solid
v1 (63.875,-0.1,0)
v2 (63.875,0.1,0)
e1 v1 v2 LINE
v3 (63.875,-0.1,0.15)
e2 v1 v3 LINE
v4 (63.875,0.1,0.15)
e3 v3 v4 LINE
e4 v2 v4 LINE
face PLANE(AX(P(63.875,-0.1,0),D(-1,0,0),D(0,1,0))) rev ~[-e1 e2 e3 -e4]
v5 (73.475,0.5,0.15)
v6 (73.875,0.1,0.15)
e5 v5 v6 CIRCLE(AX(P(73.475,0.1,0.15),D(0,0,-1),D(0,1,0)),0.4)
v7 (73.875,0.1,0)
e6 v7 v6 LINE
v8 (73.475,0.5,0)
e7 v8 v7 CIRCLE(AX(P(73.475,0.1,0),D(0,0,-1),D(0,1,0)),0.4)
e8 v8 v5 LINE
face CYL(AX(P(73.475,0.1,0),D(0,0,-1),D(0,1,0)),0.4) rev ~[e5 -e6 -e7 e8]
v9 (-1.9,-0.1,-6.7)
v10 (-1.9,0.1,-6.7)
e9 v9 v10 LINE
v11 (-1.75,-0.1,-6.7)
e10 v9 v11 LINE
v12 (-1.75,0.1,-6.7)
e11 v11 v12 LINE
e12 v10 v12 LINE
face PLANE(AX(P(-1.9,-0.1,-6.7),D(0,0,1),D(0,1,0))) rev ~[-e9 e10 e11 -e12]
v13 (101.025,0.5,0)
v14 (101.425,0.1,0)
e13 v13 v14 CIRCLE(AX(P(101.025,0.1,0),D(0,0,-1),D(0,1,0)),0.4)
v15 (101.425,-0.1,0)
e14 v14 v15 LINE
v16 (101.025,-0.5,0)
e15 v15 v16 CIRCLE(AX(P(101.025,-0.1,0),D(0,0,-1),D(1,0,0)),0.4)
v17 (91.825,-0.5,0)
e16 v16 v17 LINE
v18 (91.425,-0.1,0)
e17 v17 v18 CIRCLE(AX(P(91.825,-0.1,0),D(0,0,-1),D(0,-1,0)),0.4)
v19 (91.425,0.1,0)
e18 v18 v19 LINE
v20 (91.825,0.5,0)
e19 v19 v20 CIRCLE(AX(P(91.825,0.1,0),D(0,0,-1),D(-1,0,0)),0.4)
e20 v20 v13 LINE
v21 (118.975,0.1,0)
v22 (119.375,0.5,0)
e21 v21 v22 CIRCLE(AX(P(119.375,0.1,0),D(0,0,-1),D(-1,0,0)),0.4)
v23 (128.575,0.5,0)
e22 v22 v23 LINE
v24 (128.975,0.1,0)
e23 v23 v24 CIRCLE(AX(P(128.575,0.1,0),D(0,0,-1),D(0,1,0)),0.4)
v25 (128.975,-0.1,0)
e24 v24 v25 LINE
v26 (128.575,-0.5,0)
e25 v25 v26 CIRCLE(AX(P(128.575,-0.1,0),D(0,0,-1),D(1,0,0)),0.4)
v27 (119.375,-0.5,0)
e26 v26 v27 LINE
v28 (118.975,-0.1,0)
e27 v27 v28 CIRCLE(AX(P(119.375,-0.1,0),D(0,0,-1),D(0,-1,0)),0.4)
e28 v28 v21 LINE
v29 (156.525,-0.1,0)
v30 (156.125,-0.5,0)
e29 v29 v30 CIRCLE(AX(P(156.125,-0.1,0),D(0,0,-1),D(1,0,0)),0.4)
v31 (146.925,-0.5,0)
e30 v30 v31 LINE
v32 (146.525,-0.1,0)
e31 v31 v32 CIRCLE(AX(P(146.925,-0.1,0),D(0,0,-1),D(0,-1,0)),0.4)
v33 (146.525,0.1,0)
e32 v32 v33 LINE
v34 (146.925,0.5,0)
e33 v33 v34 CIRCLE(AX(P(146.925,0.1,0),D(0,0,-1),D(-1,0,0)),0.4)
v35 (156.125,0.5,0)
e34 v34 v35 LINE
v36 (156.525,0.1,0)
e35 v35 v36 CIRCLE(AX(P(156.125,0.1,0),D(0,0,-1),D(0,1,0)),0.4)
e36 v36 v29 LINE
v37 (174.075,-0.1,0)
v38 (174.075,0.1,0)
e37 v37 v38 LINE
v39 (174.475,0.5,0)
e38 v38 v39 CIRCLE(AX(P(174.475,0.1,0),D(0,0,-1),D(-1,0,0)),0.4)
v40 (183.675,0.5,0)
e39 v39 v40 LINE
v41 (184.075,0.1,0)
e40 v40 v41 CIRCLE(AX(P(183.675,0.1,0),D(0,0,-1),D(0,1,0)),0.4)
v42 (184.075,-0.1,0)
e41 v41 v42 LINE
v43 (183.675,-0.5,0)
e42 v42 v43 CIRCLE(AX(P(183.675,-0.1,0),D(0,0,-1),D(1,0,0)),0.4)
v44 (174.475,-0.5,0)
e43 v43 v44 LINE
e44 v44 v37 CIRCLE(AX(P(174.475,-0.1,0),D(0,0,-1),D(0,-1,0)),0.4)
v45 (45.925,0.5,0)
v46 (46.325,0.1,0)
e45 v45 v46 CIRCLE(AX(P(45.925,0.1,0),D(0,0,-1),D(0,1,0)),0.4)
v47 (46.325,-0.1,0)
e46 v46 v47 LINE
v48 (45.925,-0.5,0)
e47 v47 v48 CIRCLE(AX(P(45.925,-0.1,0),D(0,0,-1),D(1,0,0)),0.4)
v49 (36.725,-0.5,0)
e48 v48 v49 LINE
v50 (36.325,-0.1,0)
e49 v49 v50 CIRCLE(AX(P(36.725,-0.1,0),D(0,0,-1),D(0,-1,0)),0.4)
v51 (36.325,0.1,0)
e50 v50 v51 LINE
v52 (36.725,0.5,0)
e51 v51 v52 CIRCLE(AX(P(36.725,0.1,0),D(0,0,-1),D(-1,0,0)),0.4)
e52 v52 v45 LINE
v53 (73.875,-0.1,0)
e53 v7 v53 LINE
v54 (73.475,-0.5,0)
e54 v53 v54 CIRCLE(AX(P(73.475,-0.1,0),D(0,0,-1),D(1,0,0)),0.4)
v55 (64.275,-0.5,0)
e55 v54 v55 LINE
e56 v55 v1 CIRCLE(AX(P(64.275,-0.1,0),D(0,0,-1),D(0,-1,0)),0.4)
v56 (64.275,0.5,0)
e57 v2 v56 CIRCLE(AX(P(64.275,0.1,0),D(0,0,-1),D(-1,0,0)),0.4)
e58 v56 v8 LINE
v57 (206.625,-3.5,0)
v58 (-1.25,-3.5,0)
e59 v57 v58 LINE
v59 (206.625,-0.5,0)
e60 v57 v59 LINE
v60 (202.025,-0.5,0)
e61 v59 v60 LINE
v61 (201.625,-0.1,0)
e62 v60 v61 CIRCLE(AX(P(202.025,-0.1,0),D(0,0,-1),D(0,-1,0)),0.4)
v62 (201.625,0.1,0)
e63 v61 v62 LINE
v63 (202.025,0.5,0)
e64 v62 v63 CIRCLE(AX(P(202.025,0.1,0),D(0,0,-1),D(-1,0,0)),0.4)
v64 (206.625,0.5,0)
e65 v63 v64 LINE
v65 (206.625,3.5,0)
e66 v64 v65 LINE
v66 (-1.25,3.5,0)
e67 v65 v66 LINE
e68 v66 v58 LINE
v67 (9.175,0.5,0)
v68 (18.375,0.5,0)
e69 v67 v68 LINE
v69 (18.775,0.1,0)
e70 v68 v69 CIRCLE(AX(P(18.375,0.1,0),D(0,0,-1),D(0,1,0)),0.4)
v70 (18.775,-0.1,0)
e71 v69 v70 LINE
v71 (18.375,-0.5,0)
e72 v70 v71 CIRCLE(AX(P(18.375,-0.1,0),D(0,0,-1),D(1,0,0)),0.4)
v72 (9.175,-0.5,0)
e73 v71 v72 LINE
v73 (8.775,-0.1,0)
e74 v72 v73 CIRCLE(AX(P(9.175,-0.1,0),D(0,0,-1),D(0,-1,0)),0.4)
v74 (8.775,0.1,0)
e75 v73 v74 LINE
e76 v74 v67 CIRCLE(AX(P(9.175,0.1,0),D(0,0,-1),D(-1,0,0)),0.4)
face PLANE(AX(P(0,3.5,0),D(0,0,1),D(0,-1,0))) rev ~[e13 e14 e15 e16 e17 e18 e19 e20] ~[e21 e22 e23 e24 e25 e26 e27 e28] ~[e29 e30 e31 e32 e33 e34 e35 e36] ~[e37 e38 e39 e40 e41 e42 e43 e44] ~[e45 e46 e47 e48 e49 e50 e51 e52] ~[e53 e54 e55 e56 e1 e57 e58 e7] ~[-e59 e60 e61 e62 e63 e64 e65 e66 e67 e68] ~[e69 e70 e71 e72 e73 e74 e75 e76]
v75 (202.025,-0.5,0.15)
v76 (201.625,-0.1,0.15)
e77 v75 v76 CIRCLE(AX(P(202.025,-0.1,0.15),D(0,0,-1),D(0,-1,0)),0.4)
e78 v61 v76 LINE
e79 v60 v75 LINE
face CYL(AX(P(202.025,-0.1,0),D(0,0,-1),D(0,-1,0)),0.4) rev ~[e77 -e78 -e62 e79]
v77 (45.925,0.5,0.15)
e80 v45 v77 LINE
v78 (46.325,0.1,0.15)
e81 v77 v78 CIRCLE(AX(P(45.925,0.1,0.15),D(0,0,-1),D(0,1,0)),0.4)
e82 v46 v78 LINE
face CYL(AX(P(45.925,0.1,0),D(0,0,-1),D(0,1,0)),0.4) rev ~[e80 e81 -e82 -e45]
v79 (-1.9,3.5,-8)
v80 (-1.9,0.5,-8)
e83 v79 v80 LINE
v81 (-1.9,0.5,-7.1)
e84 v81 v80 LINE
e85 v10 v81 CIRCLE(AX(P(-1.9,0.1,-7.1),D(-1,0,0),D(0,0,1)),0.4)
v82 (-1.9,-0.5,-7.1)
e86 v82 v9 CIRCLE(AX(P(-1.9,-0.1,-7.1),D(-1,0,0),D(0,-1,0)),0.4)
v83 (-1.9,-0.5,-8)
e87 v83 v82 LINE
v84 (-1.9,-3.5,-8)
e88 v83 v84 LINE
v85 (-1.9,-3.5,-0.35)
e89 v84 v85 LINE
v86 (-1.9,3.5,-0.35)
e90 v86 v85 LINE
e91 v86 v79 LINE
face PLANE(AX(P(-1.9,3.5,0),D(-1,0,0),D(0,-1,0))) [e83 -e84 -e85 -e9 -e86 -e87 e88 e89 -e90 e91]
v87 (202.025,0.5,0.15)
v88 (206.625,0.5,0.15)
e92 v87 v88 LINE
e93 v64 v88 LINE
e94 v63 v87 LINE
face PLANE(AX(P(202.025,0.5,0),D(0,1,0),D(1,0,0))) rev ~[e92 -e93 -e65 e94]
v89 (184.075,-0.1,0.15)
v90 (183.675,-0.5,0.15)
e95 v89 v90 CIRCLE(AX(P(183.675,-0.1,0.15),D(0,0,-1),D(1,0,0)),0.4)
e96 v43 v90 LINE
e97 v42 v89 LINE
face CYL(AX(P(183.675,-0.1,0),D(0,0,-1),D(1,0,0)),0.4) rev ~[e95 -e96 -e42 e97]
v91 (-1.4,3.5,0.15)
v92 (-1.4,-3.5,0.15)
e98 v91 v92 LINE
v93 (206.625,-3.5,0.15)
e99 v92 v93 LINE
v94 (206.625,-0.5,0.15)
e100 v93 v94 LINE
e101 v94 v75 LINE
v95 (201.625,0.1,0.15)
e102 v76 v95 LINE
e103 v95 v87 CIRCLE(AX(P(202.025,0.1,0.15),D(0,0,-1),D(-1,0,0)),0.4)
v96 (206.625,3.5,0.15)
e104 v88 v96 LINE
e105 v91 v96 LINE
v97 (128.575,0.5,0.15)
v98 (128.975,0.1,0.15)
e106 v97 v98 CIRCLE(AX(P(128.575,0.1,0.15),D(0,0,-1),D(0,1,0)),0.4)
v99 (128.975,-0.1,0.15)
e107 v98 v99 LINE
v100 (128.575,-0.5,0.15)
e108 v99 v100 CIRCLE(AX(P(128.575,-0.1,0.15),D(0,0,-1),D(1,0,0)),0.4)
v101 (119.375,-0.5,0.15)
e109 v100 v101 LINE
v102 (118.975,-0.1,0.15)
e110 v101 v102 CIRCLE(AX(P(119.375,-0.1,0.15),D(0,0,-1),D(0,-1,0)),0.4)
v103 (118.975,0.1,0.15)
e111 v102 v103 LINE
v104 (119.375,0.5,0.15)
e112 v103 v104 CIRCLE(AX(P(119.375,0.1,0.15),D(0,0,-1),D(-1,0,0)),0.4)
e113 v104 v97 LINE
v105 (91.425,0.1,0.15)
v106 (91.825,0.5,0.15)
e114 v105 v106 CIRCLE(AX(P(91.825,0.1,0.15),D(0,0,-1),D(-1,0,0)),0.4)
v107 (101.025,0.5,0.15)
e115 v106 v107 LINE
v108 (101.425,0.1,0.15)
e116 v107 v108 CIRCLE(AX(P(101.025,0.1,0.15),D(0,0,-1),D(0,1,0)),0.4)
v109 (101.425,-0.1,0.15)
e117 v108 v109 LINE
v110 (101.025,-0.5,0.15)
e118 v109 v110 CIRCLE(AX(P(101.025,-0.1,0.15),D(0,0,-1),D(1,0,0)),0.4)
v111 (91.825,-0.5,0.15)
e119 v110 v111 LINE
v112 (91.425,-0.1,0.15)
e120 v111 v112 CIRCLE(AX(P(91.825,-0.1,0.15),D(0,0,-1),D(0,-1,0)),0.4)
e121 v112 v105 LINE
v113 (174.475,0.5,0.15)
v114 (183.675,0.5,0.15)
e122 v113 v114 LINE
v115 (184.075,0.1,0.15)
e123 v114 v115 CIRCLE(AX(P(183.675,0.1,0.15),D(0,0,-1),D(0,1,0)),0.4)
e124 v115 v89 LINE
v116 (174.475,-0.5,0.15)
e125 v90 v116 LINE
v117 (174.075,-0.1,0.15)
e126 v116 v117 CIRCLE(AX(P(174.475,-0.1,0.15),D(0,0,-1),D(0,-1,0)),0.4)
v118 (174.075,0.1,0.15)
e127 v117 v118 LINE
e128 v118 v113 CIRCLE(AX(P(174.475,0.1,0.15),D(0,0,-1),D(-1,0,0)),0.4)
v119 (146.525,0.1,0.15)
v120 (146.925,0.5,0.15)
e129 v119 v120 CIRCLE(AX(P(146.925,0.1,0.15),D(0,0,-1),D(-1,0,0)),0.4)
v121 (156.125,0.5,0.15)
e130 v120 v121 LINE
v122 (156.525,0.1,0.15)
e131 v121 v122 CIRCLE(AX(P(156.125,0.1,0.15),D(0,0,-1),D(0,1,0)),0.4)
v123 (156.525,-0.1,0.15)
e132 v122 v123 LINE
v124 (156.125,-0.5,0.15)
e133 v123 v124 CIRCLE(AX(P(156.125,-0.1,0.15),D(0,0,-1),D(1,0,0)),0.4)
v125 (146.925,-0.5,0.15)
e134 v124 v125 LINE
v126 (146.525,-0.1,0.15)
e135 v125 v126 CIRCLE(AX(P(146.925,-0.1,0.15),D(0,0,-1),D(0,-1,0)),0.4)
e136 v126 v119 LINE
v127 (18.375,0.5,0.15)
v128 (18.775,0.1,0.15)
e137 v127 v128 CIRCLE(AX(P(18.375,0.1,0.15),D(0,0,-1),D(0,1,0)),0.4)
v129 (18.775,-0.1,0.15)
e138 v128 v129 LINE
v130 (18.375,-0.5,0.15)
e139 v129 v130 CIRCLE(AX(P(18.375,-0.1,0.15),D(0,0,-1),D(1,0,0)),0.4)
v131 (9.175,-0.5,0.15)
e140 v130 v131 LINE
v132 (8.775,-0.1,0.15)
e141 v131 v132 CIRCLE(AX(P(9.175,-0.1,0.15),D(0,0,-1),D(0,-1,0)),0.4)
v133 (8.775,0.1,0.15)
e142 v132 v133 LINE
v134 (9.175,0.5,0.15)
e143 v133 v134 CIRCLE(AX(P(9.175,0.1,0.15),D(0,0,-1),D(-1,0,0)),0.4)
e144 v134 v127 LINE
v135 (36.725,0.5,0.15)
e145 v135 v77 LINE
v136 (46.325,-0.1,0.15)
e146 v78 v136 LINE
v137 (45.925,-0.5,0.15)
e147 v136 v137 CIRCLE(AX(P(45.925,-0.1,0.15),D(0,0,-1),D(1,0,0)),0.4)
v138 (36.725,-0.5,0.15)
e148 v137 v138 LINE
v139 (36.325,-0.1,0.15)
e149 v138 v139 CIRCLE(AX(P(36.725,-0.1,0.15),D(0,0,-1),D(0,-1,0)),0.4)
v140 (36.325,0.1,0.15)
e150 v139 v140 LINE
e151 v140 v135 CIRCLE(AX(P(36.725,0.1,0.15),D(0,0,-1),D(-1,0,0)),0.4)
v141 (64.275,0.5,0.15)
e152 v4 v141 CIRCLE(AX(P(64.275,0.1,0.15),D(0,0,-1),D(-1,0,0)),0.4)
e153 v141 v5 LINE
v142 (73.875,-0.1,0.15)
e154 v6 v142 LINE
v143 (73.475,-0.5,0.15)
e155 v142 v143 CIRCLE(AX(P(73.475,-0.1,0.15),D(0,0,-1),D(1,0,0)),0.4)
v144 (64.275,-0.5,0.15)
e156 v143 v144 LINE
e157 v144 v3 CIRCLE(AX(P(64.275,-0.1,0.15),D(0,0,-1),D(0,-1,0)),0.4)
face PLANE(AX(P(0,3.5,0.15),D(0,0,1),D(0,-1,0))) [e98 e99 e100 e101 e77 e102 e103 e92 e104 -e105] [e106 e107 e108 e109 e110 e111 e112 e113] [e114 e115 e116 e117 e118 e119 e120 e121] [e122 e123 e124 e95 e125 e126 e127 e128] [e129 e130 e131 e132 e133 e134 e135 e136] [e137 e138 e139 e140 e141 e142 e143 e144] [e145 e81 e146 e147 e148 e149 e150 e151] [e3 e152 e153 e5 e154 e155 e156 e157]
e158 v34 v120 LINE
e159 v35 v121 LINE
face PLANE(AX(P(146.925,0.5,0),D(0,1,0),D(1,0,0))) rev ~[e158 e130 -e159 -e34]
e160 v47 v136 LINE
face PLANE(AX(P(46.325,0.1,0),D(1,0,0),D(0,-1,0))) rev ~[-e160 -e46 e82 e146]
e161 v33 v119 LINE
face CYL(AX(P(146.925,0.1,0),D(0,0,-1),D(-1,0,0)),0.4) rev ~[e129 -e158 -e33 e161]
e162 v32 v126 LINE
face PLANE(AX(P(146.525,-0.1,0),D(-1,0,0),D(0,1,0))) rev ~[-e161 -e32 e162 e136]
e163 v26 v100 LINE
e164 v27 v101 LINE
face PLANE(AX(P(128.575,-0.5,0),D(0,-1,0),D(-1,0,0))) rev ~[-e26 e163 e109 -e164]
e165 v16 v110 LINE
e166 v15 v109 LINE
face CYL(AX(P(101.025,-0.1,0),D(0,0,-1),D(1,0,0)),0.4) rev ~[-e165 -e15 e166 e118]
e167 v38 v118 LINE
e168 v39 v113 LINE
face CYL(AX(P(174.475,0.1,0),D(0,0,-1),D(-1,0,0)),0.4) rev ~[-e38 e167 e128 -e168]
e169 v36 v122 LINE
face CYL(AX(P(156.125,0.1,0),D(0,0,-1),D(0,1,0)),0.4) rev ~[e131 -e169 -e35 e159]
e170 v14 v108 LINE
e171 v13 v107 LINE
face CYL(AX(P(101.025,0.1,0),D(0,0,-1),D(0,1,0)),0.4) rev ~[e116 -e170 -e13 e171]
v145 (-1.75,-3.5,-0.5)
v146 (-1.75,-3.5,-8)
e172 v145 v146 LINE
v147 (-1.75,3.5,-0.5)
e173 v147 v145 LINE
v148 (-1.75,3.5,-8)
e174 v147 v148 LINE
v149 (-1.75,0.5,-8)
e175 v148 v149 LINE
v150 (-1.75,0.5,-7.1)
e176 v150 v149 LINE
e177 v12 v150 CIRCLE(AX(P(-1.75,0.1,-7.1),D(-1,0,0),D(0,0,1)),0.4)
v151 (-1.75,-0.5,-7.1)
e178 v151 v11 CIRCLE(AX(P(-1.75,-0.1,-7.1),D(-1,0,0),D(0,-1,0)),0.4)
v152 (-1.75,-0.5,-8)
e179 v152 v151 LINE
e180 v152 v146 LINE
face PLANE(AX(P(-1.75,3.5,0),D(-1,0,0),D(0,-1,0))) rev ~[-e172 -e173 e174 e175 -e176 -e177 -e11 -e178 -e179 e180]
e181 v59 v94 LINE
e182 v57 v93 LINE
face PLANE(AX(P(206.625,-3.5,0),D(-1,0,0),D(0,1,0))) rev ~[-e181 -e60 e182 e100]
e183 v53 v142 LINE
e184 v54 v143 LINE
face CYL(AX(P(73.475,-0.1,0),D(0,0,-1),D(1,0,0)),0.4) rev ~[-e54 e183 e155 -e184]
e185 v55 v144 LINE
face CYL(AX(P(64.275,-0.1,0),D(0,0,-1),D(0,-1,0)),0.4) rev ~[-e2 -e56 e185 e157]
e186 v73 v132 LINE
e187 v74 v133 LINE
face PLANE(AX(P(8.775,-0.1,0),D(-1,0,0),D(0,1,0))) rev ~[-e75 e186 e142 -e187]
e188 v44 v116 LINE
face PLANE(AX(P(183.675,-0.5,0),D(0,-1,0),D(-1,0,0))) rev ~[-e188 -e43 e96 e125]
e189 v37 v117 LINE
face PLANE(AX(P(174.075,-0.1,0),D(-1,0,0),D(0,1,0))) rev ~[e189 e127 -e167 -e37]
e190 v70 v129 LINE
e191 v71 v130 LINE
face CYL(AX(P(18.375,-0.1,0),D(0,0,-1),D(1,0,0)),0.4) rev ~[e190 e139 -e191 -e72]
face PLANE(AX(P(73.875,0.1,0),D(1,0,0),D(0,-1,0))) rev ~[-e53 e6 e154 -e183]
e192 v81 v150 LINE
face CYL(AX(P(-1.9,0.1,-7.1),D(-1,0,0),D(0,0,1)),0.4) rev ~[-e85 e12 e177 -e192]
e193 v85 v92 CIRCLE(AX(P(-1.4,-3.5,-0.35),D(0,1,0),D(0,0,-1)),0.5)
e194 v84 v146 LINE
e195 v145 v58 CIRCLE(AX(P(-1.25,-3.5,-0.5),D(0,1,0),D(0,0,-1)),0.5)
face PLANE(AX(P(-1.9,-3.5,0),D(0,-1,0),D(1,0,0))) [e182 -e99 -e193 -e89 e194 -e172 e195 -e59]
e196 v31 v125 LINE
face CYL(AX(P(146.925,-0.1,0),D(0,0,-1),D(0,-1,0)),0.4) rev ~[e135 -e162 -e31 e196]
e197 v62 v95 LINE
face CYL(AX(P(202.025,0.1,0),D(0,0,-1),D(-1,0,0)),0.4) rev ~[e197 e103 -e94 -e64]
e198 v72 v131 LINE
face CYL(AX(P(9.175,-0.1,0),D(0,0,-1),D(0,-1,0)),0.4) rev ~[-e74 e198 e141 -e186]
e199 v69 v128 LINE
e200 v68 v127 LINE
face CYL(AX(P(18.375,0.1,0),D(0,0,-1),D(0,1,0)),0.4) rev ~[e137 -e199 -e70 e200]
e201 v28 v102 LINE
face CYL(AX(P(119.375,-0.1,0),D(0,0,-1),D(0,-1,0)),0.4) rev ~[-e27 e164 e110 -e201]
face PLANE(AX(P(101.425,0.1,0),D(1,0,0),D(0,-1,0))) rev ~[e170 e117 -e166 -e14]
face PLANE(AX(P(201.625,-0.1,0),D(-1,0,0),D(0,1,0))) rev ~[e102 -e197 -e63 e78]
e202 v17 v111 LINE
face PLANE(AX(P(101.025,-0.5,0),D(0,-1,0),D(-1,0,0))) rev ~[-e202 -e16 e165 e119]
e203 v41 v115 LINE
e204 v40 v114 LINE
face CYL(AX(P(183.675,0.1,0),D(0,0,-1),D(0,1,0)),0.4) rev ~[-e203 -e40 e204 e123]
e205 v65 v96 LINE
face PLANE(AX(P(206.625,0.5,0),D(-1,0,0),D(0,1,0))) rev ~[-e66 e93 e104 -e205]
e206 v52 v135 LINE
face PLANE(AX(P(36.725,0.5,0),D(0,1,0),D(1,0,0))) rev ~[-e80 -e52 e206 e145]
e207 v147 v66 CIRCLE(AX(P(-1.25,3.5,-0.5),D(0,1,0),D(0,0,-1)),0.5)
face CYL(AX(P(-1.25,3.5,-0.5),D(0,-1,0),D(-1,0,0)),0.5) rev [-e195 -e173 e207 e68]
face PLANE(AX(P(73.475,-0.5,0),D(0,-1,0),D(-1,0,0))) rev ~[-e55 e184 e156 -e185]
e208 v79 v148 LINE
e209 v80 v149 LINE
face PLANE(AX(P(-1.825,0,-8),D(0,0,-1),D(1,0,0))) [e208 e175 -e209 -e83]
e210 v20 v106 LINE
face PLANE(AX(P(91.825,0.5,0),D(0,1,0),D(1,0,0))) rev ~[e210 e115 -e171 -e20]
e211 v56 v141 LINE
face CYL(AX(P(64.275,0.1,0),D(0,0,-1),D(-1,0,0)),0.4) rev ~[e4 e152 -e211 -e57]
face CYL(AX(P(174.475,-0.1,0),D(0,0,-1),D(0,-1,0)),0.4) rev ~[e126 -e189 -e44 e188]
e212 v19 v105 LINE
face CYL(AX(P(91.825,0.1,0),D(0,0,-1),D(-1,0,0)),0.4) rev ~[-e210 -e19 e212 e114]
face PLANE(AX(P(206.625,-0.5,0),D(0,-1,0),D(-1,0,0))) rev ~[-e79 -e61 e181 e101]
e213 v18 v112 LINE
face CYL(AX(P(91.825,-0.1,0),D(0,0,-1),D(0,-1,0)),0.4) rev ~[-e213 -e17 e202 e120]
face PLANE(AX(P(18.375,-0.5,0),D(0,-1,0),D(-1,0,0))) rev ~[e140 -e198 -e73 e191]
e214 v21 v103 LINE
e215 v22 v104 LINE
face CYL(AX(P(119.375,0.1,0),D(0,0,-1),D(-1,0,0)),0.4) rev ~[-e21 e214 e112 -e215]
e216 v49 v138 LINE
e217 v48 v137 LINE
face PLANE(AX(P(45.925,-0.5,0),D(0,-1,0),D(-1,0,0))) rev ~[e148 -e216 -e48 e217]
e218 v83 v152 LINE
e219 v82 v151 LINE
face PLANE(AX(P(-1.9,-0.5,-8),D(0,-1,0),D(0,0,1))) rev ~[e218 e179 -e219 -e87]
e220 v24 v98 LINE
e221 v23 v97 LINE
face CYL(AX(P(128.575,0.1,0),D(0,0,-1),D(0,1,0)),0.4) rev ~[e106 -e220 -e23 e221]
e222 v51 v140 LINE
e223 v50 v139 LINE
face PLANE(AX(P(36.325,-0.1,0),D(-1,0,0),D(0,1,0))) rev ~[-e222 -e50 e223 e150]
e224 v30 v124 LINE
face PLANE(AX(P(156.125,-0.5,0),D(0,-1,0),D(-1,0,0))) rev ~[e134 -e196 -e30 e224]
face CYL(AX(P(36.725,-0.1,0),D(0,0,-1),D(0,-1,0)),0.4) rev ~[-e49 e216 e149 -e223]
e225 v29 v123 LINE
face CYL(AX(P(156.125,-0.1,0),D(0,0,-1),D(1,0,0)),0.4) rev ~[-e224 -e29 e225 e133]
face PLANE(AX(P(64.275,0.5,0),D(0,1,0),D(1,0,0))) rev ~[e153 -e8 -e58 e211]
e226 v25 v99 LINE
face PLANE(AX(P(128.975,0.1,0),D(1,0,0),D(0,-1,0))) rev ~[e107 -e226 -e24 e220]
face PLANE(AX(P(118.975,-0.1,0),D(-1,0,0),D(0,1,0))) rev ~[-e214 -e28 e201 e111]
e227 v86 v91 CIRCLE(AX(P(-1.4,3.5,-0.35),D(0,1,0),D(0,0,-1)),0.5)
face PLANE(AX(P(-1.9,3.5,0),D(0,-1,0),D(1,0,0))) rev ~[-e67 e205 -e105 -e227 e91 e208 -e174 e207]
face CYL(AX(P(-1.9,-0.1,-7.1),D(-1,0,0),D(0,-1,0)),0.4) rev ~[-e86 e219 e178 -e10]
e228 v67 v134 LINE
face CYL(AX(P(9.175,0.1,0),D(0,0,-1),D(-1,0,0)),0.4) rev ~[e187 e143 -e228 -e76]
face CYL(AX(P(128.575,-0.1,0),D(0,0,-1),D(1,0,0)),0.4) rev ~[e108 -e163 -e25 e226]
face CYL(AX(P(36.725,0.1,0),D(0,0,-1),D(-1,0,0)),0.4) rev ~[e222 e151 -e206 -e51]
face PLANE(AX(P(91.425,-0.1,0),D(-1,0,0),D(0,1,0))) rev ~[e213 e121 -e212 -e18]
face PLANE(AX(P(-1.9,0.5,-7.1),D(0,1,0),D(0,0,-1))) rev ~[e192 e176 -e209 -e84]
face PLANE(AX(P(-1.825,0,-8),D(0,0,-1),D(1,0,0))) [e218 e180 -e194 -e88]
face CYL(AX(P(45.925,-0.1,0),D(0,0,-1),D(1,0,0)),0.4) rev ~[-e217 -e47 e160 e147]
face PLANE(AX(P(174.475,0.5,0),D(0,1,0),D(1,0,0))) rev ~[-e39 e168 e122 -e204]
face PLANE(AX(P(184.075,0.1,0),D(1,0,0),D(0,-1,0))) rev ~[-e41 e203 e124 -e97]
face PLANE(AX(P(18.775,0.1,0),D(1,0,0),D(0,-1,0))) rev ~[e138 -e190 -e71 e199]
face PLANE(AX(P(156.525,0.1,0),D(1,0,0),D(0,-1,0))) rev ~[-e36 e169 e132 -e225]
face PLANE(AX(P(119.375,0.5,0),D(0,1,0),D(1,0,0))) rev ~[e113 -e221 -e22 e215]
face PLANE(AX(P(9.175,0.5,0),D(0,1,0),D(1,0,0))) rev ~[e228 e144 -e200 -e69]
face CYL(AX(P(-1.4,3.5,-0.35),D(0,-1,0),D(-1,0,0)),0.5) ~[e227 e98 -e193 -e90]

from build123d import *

# Parameters (mm, degrees)
F1_DEPTH = 0.15
F2_DEPTH = 1.9
F3_W     = 0.15
F3_H     = 7
F4_DEPTH = 8
F6_DEPTH = 25
F7_R     = 0.5


with BuildPart() as f1:
    # F0 (on Top) → F1 (new body)
    with BuildSketch(Plane.XY):
        with BuildLine():
            Line((96.425, -0.5), (96.425, -3.5))
            Line((96.425, -3.5), (99.425, -3.5))
            Line((99.425, -3.5), (110.2, -3.5))
            Line((110.2, -3.5), (123.975, -3.5))
            Line((123.975, -3.5), (123.975, -0.5))
            Line((123.975, -0.5), (119.375, -0.5))
            ThreePointArc((119.375, -0.5), (119.0921572875, -0.3828427125), (118.975, -0.1))
            Line((118.975, -0.1), (118.975, 0.1))
            ThreePointArc((118.975, 0.1), (119.0921572875, 0.3828427125), (119.375, 0.5))
            Line((119.375, 0.5), (123.975, 0.5))
            Line((123.975, 0.5), (123.975, 3.5))
            Line((123.975, 3.5), (110.2, 3.5))
            Line((110.2, 3.5), (99.425, 3.5))
            Line((99.425, 3.5), (96.425, 3.5))
            Line((96.425, 3.5), (96.425, 0.5))
            Line((96.425, 0.5), (101.025, 0.5))
            ThreePointArc((101.025, 0.5), (101.3078427125, 0.3828427125), (101.425, 0.1))
            Line((101.425, 0.1), (101.425, -0.1))
            ThreePointArc((101.425, -0.1), (101.3078427125, -0.3828427125), (101.025, -0.5))
            Line((101.025, -0.5), (96.425, -0.5))
        make_face()
        with BuildLine():
            Line((13.775, -0.5), (13.775, -3.5))
            Line((13.775, -3.5), (27.55, -3.5))
            Line((27.55, -3.5), (41.325, -3.5))
            Line((41.325, -3.5), (41.325, -0.5))
            Line((41.325, -0.5), (36.725, -0.5))
            ThreePointArc((36.725, -0.5), (36.4421572875, -0.3828427125), (36.325, -0.1))
            Line((36.325, -0.1), (36.325, 0.1))
            ThreePointArc((36.325, 0.1), (36.4421572875, 0.3828427125), (36.725, 0.5))
            Line((36.725, 0.5), (41.325, 0.5))
            Line((41.325, 0.5), (41.325, 3.5))
            Line((41.325, 3.5), (27.55, 3.5))
            Line((27.55, 3.5), (13.775, 3.5))
            Line((13.775, 3.5), (13.775, 0.5))
            Line((13.775, 0.5), (18.375, 0.5))
            ThreePointArc((18.375, 0.5), (18.6578427125, 0.3828427125), (18.775, 0.1))
            Line((18.775, 0.1), (18.775, -0.1))
            ThreePointArc((18.775, -0.1), (18.6578427125, -0.3828427125), (18.375, -0.5))
            Line((18.375, -0.5), (13.775, -0.5))
        make_face()
        with BuildLine():
            Line((41.325, -0.5), (41.325, -3.5))
            Line((41.325, -3.5), (55.1, -3.5))
            Line((55.1, -3.5), (68.875, -3.5))
            Line((68.875, -3.5), (68.875, -0.5))
            Line((68.875, -0.5), (64.275, -0.5))
            ThreePointArc((64.275, -0.5), (63.9921572875, -0.3828427125), (63.875, -0.1))
            Line((63.875, -0.1), (63.875, 0.1))
            ThreePointArc((63.875, 0.1), (63.9921572875, 0.3828427125), (64.275, 0.5))
            Line((64.275, 0.5), (68.875, 0.5))
            Line((68.875, 0.5), (68.875, 3.5))
            Line((68.875, 3.5), (55.1, 3.5))
            Line((55.1, 3.5), (41.325, 3.5))
            Line((41.325, 3.5), (41.325, 0.5))
            Line((41.325, 0.5), (45.925, 0.5))
            ThreePointArc((45.925, 0.5), (46.2078427125, 0.3828427125), (46.325, 0.1))
            Line((46.325, 0.1), (46.325, -0.1))
            ThreePointArc((46.325, -0.1), (46.2078427125, -0.3828427125), (45.925, -0.5))
            Line((45.925, -0.5), (41.325, -0.5))
        make_face()
        with BuildLine():
            Line((68.875, -0.5), (68.875, -3.5))
            Line((68.875, -3.5), (82.65, -3.5))
            Line((82.65, -3.5), (96.425, -3.5))
            Line((96.425, -3.5), (96.425, -0.5))
            Line((96.425, -0.5), (91.825, -0.5))
            ThreePointArc((91.825, -0.5), (91.5421572875, -0.3828427125), (91.425, -0.1))
            Line((91.425, -0.1), (91.425, 0.1))
            ThreePointArc((91.425, 0.1), (91.5421572875, 0.3828427125), (91.825, 0.5))
            Line((91.825, 0.5), (96.425, 0.5))
            Line((96.425, 0.5), (96.425, 3.5))
            Line((96.425, 3.5), (82.65, 3.5))
            Line((82.65, 3.5), (68.875, 3.5))
            Line((68.875, 3.5), (68.875, 0.5))
            Line((68.875, 0.5), (73.475, 0.5))
            ThreePointArc((73.475, 0.5), (73.7578427125, 0.3828427125), (73.875, 0.1))
            Line((73.875, 0.1), (73.875, -0.1))
            ThreePointArc((73.875, -0.1), (73.7578427125, -0.3828427125), (73.475, -0.5))
            Line((73.475, -0.5), (68.875, -0.5))
        make_face()
        with BuildLine():
            Line((0, 3.5), (0, -3.5))
            Line((0, -3.5), (13.775, -3.5))
            Line((13.775, -3.5), (13.775, -0.5))
            Line((13.775, -0.5), (9.175, -0.5))
            ThreePointArc((9.175, -0.5), (8.8921572875, -0.3828427125), (8.775, -0.1))
            Line((8.775, -0.1), (8.775, 0.1))
            ThreePointArc((8.775, 0.1), (8.8921572875, 0.3828427125), (9.175, 0.5))
            Line((9.175, 0.5), (13.775, 0.5))
            Line((13.775, 0.5), (13.775, 3.5))
            Line((13.775, 3.5), (0, 3.5))
        make_face()
        with BuildLine():
            Line((123.975, -0.5), (123.975, -3.5))
            Line((123.975, -3.5), (137.75, -3.5))
            Line((137.75, -3.5), (151.525, -3.5))
            Line((151.525, -3.5), (151.525, -0.5))
            Line((151.525, -0.5), (146.925, -0.5))
            ThreePointArc((146.925, -0.5), (146.6421572875, -0.3828427125), (146.525, -0.1))
            Line((146.525, -0.1), (146.525, 0.1))
            ThreePointArc((146.525, 0.1), (146.6421572875, 0.3828427125), (146.925, 0.5))
            Line((146.925, 0.5), (151.525, 0.5))
            Line((151.525, 0.5), (151.525, 3.5))
            Line((151.525, 3.5), (137.75, 3.5))
            Line((137.75, 3.5), (123.975, 3.5))
            Line((123.975, 3.5), (123.975, 0.5))
            Line((123.975, 0.5), (128.575, 0.5))
            ThreePointArc((128.575, 0.5), (128.8578427125, 0.3828427125), (128.975, 0.1))
            Line((128.975, 0.1), (128.975, -0.1))
            ThreePointArc((128.975, -0.1), (128.8578427125, -0.3828427125), (128.575, -0.5))
            Line((128.575, -0.5), (123.975, -0.5))
        make_face()
        with BuildLine():
            Line((151.525, -0.5), (151.525, -3.5))
            Line((151.525, -3.5), (165.3, -3.5))
            Line((165.3, -3.5), (179.075, -3.5))
            Line((179.075, -3.5), (179.075, -0.5))
            Line((179.075, -0.5), (174.475, -0.5))
            ThreePointArc((174.475, -0.5), (174.1921572875, -0.3828427125), (174.075, -0.1))
            Line((174.075, -0.1), (174.075, 0.1))
            ThreePointArc((174.075, 0.1), (174.1921572875, 0.3828427125), (174.475, 0.5))
            Line((174.475, 0.5), (179.075, 0.5))
            Line((179.075, 0.5), (179.075, 3.5))
            Line((179.075, 3.5), (165.3, 3.5))
            Line((165.3, 3.5), (151.525, 3.5))
            Line((151.525, 3.5), (151.525, 0.5))
            Line((151.525, 0.5), (156.125, 0.5))
            ThreePointArc((156.125, 0.5), (156.4078427125, 0.3828427125), (156.525, 0.1))
            Line((156.525, 0.1), (156.525, -0.1))
            ThreePointArc((156.525, -0.1), (156.4078427125, -0.3828427125), (156.125, -0.5))
            Line((156.125, -0.5), (151.525, -0.5))
        make_face()
        with BuildLine():
            Line((179.075, -0.5), (179.075, -3.5))
            Line((179.075, -3.5), (192.85, -3.5))
            Line((192.85, -3.5), (206.625, -3.5))
            Line((206.625, -3.5), (206.625, -0.5))
            Line((206.625, -0.5), (202.025, -0.5))
            ThreePointArc((202.025, -0.5), (201.7421572875, -0.3828427125), (201.625, -0.1))
            Line((201.625, -0.1), (201.625, 0.1))
            ThreePointArc((201.625, 0.1), (201.7421572875, 0.3828427125), (202.025, 0.5))
            Line((202.025, 0.5), (206.625, 0.5))
            Line((206.625, 0.5), (206.625, 3.5))
            Line((206.625, 3.5), (192.85, 3.5))
            Line((192.85, 3.5), (179.075, 3.5))
            Line((179.075, 3.5), (179.075, 0.5))
            Line((179.075, 0.5), (183.675, 0.5))
            ThreePointArc((183.675, 0.5), (183.9578427125, 0.3828427125), (184.075, 0.1))
            Line((184.075, 0.1), (184.075, -0.1))
            ThreePointArc((184.075, -0.1), (183.9578427125, -0.3828427125), (183.675, -0.5))
            Line((183.675, -0.5), (179.075, -0.5))
        make_face()
    extrude(amount=F1_DEPTH)

    # F2 (add): a face of the model
    f2_faces = [f1.faces().sort_by_distance(p)[0] for p in [
        (0, 0, 0.075),
    ]]
    extrude(f2_faces, amount=F2_DEPTH)

    # F3 (on face) → F4 (join)
    with BuildSketch(Plane(origin=(0, 0, 0), x_dir=(1, 0, 0), z_dir=(0, 0, -1))):
        with Locations((-1.825, 0)):
            Rectangle(F3_W, F3_H)
    extrude(amount=F4_DEPTH)

    # F5 (on face) → F6 (cut)
    with BuildSketch(Plane(origin=(-1.9, 0, 0), x_dir=(0, -1, 0), z_dir=(-1, 0, 0))):
        with BuildLine():
            ThreePointArc((0.5, -7.1), (0.3828427125, -6.8171572875), (0.1, -6.7))
            Line((0.1, -6.7), (-0.1, -6.7))
            ThreePointArc((-0.1, -6.7), (-0.3828427125, -6.8171572875), (-0.5, -7.1))
            Line((-0.5, -7.1), (-0.5, -8))
            Line((-0.5, -8), (0.5, -8))
            Line((0.5, -8), (0.5, -7.1))
        make_face()
    extrude(amount=-F6_DEPTH, mode=Mode.SUBTRACT)

    # F7
    f7_edges = [f1.edges().sort_by_distance(p)[0] for p in [
        (-1.9, 0, 0.15),
        (-1.75, 0, 0),
    ]]
    fillet(f7_edges, radius=F7_R)


solid = f1.part
